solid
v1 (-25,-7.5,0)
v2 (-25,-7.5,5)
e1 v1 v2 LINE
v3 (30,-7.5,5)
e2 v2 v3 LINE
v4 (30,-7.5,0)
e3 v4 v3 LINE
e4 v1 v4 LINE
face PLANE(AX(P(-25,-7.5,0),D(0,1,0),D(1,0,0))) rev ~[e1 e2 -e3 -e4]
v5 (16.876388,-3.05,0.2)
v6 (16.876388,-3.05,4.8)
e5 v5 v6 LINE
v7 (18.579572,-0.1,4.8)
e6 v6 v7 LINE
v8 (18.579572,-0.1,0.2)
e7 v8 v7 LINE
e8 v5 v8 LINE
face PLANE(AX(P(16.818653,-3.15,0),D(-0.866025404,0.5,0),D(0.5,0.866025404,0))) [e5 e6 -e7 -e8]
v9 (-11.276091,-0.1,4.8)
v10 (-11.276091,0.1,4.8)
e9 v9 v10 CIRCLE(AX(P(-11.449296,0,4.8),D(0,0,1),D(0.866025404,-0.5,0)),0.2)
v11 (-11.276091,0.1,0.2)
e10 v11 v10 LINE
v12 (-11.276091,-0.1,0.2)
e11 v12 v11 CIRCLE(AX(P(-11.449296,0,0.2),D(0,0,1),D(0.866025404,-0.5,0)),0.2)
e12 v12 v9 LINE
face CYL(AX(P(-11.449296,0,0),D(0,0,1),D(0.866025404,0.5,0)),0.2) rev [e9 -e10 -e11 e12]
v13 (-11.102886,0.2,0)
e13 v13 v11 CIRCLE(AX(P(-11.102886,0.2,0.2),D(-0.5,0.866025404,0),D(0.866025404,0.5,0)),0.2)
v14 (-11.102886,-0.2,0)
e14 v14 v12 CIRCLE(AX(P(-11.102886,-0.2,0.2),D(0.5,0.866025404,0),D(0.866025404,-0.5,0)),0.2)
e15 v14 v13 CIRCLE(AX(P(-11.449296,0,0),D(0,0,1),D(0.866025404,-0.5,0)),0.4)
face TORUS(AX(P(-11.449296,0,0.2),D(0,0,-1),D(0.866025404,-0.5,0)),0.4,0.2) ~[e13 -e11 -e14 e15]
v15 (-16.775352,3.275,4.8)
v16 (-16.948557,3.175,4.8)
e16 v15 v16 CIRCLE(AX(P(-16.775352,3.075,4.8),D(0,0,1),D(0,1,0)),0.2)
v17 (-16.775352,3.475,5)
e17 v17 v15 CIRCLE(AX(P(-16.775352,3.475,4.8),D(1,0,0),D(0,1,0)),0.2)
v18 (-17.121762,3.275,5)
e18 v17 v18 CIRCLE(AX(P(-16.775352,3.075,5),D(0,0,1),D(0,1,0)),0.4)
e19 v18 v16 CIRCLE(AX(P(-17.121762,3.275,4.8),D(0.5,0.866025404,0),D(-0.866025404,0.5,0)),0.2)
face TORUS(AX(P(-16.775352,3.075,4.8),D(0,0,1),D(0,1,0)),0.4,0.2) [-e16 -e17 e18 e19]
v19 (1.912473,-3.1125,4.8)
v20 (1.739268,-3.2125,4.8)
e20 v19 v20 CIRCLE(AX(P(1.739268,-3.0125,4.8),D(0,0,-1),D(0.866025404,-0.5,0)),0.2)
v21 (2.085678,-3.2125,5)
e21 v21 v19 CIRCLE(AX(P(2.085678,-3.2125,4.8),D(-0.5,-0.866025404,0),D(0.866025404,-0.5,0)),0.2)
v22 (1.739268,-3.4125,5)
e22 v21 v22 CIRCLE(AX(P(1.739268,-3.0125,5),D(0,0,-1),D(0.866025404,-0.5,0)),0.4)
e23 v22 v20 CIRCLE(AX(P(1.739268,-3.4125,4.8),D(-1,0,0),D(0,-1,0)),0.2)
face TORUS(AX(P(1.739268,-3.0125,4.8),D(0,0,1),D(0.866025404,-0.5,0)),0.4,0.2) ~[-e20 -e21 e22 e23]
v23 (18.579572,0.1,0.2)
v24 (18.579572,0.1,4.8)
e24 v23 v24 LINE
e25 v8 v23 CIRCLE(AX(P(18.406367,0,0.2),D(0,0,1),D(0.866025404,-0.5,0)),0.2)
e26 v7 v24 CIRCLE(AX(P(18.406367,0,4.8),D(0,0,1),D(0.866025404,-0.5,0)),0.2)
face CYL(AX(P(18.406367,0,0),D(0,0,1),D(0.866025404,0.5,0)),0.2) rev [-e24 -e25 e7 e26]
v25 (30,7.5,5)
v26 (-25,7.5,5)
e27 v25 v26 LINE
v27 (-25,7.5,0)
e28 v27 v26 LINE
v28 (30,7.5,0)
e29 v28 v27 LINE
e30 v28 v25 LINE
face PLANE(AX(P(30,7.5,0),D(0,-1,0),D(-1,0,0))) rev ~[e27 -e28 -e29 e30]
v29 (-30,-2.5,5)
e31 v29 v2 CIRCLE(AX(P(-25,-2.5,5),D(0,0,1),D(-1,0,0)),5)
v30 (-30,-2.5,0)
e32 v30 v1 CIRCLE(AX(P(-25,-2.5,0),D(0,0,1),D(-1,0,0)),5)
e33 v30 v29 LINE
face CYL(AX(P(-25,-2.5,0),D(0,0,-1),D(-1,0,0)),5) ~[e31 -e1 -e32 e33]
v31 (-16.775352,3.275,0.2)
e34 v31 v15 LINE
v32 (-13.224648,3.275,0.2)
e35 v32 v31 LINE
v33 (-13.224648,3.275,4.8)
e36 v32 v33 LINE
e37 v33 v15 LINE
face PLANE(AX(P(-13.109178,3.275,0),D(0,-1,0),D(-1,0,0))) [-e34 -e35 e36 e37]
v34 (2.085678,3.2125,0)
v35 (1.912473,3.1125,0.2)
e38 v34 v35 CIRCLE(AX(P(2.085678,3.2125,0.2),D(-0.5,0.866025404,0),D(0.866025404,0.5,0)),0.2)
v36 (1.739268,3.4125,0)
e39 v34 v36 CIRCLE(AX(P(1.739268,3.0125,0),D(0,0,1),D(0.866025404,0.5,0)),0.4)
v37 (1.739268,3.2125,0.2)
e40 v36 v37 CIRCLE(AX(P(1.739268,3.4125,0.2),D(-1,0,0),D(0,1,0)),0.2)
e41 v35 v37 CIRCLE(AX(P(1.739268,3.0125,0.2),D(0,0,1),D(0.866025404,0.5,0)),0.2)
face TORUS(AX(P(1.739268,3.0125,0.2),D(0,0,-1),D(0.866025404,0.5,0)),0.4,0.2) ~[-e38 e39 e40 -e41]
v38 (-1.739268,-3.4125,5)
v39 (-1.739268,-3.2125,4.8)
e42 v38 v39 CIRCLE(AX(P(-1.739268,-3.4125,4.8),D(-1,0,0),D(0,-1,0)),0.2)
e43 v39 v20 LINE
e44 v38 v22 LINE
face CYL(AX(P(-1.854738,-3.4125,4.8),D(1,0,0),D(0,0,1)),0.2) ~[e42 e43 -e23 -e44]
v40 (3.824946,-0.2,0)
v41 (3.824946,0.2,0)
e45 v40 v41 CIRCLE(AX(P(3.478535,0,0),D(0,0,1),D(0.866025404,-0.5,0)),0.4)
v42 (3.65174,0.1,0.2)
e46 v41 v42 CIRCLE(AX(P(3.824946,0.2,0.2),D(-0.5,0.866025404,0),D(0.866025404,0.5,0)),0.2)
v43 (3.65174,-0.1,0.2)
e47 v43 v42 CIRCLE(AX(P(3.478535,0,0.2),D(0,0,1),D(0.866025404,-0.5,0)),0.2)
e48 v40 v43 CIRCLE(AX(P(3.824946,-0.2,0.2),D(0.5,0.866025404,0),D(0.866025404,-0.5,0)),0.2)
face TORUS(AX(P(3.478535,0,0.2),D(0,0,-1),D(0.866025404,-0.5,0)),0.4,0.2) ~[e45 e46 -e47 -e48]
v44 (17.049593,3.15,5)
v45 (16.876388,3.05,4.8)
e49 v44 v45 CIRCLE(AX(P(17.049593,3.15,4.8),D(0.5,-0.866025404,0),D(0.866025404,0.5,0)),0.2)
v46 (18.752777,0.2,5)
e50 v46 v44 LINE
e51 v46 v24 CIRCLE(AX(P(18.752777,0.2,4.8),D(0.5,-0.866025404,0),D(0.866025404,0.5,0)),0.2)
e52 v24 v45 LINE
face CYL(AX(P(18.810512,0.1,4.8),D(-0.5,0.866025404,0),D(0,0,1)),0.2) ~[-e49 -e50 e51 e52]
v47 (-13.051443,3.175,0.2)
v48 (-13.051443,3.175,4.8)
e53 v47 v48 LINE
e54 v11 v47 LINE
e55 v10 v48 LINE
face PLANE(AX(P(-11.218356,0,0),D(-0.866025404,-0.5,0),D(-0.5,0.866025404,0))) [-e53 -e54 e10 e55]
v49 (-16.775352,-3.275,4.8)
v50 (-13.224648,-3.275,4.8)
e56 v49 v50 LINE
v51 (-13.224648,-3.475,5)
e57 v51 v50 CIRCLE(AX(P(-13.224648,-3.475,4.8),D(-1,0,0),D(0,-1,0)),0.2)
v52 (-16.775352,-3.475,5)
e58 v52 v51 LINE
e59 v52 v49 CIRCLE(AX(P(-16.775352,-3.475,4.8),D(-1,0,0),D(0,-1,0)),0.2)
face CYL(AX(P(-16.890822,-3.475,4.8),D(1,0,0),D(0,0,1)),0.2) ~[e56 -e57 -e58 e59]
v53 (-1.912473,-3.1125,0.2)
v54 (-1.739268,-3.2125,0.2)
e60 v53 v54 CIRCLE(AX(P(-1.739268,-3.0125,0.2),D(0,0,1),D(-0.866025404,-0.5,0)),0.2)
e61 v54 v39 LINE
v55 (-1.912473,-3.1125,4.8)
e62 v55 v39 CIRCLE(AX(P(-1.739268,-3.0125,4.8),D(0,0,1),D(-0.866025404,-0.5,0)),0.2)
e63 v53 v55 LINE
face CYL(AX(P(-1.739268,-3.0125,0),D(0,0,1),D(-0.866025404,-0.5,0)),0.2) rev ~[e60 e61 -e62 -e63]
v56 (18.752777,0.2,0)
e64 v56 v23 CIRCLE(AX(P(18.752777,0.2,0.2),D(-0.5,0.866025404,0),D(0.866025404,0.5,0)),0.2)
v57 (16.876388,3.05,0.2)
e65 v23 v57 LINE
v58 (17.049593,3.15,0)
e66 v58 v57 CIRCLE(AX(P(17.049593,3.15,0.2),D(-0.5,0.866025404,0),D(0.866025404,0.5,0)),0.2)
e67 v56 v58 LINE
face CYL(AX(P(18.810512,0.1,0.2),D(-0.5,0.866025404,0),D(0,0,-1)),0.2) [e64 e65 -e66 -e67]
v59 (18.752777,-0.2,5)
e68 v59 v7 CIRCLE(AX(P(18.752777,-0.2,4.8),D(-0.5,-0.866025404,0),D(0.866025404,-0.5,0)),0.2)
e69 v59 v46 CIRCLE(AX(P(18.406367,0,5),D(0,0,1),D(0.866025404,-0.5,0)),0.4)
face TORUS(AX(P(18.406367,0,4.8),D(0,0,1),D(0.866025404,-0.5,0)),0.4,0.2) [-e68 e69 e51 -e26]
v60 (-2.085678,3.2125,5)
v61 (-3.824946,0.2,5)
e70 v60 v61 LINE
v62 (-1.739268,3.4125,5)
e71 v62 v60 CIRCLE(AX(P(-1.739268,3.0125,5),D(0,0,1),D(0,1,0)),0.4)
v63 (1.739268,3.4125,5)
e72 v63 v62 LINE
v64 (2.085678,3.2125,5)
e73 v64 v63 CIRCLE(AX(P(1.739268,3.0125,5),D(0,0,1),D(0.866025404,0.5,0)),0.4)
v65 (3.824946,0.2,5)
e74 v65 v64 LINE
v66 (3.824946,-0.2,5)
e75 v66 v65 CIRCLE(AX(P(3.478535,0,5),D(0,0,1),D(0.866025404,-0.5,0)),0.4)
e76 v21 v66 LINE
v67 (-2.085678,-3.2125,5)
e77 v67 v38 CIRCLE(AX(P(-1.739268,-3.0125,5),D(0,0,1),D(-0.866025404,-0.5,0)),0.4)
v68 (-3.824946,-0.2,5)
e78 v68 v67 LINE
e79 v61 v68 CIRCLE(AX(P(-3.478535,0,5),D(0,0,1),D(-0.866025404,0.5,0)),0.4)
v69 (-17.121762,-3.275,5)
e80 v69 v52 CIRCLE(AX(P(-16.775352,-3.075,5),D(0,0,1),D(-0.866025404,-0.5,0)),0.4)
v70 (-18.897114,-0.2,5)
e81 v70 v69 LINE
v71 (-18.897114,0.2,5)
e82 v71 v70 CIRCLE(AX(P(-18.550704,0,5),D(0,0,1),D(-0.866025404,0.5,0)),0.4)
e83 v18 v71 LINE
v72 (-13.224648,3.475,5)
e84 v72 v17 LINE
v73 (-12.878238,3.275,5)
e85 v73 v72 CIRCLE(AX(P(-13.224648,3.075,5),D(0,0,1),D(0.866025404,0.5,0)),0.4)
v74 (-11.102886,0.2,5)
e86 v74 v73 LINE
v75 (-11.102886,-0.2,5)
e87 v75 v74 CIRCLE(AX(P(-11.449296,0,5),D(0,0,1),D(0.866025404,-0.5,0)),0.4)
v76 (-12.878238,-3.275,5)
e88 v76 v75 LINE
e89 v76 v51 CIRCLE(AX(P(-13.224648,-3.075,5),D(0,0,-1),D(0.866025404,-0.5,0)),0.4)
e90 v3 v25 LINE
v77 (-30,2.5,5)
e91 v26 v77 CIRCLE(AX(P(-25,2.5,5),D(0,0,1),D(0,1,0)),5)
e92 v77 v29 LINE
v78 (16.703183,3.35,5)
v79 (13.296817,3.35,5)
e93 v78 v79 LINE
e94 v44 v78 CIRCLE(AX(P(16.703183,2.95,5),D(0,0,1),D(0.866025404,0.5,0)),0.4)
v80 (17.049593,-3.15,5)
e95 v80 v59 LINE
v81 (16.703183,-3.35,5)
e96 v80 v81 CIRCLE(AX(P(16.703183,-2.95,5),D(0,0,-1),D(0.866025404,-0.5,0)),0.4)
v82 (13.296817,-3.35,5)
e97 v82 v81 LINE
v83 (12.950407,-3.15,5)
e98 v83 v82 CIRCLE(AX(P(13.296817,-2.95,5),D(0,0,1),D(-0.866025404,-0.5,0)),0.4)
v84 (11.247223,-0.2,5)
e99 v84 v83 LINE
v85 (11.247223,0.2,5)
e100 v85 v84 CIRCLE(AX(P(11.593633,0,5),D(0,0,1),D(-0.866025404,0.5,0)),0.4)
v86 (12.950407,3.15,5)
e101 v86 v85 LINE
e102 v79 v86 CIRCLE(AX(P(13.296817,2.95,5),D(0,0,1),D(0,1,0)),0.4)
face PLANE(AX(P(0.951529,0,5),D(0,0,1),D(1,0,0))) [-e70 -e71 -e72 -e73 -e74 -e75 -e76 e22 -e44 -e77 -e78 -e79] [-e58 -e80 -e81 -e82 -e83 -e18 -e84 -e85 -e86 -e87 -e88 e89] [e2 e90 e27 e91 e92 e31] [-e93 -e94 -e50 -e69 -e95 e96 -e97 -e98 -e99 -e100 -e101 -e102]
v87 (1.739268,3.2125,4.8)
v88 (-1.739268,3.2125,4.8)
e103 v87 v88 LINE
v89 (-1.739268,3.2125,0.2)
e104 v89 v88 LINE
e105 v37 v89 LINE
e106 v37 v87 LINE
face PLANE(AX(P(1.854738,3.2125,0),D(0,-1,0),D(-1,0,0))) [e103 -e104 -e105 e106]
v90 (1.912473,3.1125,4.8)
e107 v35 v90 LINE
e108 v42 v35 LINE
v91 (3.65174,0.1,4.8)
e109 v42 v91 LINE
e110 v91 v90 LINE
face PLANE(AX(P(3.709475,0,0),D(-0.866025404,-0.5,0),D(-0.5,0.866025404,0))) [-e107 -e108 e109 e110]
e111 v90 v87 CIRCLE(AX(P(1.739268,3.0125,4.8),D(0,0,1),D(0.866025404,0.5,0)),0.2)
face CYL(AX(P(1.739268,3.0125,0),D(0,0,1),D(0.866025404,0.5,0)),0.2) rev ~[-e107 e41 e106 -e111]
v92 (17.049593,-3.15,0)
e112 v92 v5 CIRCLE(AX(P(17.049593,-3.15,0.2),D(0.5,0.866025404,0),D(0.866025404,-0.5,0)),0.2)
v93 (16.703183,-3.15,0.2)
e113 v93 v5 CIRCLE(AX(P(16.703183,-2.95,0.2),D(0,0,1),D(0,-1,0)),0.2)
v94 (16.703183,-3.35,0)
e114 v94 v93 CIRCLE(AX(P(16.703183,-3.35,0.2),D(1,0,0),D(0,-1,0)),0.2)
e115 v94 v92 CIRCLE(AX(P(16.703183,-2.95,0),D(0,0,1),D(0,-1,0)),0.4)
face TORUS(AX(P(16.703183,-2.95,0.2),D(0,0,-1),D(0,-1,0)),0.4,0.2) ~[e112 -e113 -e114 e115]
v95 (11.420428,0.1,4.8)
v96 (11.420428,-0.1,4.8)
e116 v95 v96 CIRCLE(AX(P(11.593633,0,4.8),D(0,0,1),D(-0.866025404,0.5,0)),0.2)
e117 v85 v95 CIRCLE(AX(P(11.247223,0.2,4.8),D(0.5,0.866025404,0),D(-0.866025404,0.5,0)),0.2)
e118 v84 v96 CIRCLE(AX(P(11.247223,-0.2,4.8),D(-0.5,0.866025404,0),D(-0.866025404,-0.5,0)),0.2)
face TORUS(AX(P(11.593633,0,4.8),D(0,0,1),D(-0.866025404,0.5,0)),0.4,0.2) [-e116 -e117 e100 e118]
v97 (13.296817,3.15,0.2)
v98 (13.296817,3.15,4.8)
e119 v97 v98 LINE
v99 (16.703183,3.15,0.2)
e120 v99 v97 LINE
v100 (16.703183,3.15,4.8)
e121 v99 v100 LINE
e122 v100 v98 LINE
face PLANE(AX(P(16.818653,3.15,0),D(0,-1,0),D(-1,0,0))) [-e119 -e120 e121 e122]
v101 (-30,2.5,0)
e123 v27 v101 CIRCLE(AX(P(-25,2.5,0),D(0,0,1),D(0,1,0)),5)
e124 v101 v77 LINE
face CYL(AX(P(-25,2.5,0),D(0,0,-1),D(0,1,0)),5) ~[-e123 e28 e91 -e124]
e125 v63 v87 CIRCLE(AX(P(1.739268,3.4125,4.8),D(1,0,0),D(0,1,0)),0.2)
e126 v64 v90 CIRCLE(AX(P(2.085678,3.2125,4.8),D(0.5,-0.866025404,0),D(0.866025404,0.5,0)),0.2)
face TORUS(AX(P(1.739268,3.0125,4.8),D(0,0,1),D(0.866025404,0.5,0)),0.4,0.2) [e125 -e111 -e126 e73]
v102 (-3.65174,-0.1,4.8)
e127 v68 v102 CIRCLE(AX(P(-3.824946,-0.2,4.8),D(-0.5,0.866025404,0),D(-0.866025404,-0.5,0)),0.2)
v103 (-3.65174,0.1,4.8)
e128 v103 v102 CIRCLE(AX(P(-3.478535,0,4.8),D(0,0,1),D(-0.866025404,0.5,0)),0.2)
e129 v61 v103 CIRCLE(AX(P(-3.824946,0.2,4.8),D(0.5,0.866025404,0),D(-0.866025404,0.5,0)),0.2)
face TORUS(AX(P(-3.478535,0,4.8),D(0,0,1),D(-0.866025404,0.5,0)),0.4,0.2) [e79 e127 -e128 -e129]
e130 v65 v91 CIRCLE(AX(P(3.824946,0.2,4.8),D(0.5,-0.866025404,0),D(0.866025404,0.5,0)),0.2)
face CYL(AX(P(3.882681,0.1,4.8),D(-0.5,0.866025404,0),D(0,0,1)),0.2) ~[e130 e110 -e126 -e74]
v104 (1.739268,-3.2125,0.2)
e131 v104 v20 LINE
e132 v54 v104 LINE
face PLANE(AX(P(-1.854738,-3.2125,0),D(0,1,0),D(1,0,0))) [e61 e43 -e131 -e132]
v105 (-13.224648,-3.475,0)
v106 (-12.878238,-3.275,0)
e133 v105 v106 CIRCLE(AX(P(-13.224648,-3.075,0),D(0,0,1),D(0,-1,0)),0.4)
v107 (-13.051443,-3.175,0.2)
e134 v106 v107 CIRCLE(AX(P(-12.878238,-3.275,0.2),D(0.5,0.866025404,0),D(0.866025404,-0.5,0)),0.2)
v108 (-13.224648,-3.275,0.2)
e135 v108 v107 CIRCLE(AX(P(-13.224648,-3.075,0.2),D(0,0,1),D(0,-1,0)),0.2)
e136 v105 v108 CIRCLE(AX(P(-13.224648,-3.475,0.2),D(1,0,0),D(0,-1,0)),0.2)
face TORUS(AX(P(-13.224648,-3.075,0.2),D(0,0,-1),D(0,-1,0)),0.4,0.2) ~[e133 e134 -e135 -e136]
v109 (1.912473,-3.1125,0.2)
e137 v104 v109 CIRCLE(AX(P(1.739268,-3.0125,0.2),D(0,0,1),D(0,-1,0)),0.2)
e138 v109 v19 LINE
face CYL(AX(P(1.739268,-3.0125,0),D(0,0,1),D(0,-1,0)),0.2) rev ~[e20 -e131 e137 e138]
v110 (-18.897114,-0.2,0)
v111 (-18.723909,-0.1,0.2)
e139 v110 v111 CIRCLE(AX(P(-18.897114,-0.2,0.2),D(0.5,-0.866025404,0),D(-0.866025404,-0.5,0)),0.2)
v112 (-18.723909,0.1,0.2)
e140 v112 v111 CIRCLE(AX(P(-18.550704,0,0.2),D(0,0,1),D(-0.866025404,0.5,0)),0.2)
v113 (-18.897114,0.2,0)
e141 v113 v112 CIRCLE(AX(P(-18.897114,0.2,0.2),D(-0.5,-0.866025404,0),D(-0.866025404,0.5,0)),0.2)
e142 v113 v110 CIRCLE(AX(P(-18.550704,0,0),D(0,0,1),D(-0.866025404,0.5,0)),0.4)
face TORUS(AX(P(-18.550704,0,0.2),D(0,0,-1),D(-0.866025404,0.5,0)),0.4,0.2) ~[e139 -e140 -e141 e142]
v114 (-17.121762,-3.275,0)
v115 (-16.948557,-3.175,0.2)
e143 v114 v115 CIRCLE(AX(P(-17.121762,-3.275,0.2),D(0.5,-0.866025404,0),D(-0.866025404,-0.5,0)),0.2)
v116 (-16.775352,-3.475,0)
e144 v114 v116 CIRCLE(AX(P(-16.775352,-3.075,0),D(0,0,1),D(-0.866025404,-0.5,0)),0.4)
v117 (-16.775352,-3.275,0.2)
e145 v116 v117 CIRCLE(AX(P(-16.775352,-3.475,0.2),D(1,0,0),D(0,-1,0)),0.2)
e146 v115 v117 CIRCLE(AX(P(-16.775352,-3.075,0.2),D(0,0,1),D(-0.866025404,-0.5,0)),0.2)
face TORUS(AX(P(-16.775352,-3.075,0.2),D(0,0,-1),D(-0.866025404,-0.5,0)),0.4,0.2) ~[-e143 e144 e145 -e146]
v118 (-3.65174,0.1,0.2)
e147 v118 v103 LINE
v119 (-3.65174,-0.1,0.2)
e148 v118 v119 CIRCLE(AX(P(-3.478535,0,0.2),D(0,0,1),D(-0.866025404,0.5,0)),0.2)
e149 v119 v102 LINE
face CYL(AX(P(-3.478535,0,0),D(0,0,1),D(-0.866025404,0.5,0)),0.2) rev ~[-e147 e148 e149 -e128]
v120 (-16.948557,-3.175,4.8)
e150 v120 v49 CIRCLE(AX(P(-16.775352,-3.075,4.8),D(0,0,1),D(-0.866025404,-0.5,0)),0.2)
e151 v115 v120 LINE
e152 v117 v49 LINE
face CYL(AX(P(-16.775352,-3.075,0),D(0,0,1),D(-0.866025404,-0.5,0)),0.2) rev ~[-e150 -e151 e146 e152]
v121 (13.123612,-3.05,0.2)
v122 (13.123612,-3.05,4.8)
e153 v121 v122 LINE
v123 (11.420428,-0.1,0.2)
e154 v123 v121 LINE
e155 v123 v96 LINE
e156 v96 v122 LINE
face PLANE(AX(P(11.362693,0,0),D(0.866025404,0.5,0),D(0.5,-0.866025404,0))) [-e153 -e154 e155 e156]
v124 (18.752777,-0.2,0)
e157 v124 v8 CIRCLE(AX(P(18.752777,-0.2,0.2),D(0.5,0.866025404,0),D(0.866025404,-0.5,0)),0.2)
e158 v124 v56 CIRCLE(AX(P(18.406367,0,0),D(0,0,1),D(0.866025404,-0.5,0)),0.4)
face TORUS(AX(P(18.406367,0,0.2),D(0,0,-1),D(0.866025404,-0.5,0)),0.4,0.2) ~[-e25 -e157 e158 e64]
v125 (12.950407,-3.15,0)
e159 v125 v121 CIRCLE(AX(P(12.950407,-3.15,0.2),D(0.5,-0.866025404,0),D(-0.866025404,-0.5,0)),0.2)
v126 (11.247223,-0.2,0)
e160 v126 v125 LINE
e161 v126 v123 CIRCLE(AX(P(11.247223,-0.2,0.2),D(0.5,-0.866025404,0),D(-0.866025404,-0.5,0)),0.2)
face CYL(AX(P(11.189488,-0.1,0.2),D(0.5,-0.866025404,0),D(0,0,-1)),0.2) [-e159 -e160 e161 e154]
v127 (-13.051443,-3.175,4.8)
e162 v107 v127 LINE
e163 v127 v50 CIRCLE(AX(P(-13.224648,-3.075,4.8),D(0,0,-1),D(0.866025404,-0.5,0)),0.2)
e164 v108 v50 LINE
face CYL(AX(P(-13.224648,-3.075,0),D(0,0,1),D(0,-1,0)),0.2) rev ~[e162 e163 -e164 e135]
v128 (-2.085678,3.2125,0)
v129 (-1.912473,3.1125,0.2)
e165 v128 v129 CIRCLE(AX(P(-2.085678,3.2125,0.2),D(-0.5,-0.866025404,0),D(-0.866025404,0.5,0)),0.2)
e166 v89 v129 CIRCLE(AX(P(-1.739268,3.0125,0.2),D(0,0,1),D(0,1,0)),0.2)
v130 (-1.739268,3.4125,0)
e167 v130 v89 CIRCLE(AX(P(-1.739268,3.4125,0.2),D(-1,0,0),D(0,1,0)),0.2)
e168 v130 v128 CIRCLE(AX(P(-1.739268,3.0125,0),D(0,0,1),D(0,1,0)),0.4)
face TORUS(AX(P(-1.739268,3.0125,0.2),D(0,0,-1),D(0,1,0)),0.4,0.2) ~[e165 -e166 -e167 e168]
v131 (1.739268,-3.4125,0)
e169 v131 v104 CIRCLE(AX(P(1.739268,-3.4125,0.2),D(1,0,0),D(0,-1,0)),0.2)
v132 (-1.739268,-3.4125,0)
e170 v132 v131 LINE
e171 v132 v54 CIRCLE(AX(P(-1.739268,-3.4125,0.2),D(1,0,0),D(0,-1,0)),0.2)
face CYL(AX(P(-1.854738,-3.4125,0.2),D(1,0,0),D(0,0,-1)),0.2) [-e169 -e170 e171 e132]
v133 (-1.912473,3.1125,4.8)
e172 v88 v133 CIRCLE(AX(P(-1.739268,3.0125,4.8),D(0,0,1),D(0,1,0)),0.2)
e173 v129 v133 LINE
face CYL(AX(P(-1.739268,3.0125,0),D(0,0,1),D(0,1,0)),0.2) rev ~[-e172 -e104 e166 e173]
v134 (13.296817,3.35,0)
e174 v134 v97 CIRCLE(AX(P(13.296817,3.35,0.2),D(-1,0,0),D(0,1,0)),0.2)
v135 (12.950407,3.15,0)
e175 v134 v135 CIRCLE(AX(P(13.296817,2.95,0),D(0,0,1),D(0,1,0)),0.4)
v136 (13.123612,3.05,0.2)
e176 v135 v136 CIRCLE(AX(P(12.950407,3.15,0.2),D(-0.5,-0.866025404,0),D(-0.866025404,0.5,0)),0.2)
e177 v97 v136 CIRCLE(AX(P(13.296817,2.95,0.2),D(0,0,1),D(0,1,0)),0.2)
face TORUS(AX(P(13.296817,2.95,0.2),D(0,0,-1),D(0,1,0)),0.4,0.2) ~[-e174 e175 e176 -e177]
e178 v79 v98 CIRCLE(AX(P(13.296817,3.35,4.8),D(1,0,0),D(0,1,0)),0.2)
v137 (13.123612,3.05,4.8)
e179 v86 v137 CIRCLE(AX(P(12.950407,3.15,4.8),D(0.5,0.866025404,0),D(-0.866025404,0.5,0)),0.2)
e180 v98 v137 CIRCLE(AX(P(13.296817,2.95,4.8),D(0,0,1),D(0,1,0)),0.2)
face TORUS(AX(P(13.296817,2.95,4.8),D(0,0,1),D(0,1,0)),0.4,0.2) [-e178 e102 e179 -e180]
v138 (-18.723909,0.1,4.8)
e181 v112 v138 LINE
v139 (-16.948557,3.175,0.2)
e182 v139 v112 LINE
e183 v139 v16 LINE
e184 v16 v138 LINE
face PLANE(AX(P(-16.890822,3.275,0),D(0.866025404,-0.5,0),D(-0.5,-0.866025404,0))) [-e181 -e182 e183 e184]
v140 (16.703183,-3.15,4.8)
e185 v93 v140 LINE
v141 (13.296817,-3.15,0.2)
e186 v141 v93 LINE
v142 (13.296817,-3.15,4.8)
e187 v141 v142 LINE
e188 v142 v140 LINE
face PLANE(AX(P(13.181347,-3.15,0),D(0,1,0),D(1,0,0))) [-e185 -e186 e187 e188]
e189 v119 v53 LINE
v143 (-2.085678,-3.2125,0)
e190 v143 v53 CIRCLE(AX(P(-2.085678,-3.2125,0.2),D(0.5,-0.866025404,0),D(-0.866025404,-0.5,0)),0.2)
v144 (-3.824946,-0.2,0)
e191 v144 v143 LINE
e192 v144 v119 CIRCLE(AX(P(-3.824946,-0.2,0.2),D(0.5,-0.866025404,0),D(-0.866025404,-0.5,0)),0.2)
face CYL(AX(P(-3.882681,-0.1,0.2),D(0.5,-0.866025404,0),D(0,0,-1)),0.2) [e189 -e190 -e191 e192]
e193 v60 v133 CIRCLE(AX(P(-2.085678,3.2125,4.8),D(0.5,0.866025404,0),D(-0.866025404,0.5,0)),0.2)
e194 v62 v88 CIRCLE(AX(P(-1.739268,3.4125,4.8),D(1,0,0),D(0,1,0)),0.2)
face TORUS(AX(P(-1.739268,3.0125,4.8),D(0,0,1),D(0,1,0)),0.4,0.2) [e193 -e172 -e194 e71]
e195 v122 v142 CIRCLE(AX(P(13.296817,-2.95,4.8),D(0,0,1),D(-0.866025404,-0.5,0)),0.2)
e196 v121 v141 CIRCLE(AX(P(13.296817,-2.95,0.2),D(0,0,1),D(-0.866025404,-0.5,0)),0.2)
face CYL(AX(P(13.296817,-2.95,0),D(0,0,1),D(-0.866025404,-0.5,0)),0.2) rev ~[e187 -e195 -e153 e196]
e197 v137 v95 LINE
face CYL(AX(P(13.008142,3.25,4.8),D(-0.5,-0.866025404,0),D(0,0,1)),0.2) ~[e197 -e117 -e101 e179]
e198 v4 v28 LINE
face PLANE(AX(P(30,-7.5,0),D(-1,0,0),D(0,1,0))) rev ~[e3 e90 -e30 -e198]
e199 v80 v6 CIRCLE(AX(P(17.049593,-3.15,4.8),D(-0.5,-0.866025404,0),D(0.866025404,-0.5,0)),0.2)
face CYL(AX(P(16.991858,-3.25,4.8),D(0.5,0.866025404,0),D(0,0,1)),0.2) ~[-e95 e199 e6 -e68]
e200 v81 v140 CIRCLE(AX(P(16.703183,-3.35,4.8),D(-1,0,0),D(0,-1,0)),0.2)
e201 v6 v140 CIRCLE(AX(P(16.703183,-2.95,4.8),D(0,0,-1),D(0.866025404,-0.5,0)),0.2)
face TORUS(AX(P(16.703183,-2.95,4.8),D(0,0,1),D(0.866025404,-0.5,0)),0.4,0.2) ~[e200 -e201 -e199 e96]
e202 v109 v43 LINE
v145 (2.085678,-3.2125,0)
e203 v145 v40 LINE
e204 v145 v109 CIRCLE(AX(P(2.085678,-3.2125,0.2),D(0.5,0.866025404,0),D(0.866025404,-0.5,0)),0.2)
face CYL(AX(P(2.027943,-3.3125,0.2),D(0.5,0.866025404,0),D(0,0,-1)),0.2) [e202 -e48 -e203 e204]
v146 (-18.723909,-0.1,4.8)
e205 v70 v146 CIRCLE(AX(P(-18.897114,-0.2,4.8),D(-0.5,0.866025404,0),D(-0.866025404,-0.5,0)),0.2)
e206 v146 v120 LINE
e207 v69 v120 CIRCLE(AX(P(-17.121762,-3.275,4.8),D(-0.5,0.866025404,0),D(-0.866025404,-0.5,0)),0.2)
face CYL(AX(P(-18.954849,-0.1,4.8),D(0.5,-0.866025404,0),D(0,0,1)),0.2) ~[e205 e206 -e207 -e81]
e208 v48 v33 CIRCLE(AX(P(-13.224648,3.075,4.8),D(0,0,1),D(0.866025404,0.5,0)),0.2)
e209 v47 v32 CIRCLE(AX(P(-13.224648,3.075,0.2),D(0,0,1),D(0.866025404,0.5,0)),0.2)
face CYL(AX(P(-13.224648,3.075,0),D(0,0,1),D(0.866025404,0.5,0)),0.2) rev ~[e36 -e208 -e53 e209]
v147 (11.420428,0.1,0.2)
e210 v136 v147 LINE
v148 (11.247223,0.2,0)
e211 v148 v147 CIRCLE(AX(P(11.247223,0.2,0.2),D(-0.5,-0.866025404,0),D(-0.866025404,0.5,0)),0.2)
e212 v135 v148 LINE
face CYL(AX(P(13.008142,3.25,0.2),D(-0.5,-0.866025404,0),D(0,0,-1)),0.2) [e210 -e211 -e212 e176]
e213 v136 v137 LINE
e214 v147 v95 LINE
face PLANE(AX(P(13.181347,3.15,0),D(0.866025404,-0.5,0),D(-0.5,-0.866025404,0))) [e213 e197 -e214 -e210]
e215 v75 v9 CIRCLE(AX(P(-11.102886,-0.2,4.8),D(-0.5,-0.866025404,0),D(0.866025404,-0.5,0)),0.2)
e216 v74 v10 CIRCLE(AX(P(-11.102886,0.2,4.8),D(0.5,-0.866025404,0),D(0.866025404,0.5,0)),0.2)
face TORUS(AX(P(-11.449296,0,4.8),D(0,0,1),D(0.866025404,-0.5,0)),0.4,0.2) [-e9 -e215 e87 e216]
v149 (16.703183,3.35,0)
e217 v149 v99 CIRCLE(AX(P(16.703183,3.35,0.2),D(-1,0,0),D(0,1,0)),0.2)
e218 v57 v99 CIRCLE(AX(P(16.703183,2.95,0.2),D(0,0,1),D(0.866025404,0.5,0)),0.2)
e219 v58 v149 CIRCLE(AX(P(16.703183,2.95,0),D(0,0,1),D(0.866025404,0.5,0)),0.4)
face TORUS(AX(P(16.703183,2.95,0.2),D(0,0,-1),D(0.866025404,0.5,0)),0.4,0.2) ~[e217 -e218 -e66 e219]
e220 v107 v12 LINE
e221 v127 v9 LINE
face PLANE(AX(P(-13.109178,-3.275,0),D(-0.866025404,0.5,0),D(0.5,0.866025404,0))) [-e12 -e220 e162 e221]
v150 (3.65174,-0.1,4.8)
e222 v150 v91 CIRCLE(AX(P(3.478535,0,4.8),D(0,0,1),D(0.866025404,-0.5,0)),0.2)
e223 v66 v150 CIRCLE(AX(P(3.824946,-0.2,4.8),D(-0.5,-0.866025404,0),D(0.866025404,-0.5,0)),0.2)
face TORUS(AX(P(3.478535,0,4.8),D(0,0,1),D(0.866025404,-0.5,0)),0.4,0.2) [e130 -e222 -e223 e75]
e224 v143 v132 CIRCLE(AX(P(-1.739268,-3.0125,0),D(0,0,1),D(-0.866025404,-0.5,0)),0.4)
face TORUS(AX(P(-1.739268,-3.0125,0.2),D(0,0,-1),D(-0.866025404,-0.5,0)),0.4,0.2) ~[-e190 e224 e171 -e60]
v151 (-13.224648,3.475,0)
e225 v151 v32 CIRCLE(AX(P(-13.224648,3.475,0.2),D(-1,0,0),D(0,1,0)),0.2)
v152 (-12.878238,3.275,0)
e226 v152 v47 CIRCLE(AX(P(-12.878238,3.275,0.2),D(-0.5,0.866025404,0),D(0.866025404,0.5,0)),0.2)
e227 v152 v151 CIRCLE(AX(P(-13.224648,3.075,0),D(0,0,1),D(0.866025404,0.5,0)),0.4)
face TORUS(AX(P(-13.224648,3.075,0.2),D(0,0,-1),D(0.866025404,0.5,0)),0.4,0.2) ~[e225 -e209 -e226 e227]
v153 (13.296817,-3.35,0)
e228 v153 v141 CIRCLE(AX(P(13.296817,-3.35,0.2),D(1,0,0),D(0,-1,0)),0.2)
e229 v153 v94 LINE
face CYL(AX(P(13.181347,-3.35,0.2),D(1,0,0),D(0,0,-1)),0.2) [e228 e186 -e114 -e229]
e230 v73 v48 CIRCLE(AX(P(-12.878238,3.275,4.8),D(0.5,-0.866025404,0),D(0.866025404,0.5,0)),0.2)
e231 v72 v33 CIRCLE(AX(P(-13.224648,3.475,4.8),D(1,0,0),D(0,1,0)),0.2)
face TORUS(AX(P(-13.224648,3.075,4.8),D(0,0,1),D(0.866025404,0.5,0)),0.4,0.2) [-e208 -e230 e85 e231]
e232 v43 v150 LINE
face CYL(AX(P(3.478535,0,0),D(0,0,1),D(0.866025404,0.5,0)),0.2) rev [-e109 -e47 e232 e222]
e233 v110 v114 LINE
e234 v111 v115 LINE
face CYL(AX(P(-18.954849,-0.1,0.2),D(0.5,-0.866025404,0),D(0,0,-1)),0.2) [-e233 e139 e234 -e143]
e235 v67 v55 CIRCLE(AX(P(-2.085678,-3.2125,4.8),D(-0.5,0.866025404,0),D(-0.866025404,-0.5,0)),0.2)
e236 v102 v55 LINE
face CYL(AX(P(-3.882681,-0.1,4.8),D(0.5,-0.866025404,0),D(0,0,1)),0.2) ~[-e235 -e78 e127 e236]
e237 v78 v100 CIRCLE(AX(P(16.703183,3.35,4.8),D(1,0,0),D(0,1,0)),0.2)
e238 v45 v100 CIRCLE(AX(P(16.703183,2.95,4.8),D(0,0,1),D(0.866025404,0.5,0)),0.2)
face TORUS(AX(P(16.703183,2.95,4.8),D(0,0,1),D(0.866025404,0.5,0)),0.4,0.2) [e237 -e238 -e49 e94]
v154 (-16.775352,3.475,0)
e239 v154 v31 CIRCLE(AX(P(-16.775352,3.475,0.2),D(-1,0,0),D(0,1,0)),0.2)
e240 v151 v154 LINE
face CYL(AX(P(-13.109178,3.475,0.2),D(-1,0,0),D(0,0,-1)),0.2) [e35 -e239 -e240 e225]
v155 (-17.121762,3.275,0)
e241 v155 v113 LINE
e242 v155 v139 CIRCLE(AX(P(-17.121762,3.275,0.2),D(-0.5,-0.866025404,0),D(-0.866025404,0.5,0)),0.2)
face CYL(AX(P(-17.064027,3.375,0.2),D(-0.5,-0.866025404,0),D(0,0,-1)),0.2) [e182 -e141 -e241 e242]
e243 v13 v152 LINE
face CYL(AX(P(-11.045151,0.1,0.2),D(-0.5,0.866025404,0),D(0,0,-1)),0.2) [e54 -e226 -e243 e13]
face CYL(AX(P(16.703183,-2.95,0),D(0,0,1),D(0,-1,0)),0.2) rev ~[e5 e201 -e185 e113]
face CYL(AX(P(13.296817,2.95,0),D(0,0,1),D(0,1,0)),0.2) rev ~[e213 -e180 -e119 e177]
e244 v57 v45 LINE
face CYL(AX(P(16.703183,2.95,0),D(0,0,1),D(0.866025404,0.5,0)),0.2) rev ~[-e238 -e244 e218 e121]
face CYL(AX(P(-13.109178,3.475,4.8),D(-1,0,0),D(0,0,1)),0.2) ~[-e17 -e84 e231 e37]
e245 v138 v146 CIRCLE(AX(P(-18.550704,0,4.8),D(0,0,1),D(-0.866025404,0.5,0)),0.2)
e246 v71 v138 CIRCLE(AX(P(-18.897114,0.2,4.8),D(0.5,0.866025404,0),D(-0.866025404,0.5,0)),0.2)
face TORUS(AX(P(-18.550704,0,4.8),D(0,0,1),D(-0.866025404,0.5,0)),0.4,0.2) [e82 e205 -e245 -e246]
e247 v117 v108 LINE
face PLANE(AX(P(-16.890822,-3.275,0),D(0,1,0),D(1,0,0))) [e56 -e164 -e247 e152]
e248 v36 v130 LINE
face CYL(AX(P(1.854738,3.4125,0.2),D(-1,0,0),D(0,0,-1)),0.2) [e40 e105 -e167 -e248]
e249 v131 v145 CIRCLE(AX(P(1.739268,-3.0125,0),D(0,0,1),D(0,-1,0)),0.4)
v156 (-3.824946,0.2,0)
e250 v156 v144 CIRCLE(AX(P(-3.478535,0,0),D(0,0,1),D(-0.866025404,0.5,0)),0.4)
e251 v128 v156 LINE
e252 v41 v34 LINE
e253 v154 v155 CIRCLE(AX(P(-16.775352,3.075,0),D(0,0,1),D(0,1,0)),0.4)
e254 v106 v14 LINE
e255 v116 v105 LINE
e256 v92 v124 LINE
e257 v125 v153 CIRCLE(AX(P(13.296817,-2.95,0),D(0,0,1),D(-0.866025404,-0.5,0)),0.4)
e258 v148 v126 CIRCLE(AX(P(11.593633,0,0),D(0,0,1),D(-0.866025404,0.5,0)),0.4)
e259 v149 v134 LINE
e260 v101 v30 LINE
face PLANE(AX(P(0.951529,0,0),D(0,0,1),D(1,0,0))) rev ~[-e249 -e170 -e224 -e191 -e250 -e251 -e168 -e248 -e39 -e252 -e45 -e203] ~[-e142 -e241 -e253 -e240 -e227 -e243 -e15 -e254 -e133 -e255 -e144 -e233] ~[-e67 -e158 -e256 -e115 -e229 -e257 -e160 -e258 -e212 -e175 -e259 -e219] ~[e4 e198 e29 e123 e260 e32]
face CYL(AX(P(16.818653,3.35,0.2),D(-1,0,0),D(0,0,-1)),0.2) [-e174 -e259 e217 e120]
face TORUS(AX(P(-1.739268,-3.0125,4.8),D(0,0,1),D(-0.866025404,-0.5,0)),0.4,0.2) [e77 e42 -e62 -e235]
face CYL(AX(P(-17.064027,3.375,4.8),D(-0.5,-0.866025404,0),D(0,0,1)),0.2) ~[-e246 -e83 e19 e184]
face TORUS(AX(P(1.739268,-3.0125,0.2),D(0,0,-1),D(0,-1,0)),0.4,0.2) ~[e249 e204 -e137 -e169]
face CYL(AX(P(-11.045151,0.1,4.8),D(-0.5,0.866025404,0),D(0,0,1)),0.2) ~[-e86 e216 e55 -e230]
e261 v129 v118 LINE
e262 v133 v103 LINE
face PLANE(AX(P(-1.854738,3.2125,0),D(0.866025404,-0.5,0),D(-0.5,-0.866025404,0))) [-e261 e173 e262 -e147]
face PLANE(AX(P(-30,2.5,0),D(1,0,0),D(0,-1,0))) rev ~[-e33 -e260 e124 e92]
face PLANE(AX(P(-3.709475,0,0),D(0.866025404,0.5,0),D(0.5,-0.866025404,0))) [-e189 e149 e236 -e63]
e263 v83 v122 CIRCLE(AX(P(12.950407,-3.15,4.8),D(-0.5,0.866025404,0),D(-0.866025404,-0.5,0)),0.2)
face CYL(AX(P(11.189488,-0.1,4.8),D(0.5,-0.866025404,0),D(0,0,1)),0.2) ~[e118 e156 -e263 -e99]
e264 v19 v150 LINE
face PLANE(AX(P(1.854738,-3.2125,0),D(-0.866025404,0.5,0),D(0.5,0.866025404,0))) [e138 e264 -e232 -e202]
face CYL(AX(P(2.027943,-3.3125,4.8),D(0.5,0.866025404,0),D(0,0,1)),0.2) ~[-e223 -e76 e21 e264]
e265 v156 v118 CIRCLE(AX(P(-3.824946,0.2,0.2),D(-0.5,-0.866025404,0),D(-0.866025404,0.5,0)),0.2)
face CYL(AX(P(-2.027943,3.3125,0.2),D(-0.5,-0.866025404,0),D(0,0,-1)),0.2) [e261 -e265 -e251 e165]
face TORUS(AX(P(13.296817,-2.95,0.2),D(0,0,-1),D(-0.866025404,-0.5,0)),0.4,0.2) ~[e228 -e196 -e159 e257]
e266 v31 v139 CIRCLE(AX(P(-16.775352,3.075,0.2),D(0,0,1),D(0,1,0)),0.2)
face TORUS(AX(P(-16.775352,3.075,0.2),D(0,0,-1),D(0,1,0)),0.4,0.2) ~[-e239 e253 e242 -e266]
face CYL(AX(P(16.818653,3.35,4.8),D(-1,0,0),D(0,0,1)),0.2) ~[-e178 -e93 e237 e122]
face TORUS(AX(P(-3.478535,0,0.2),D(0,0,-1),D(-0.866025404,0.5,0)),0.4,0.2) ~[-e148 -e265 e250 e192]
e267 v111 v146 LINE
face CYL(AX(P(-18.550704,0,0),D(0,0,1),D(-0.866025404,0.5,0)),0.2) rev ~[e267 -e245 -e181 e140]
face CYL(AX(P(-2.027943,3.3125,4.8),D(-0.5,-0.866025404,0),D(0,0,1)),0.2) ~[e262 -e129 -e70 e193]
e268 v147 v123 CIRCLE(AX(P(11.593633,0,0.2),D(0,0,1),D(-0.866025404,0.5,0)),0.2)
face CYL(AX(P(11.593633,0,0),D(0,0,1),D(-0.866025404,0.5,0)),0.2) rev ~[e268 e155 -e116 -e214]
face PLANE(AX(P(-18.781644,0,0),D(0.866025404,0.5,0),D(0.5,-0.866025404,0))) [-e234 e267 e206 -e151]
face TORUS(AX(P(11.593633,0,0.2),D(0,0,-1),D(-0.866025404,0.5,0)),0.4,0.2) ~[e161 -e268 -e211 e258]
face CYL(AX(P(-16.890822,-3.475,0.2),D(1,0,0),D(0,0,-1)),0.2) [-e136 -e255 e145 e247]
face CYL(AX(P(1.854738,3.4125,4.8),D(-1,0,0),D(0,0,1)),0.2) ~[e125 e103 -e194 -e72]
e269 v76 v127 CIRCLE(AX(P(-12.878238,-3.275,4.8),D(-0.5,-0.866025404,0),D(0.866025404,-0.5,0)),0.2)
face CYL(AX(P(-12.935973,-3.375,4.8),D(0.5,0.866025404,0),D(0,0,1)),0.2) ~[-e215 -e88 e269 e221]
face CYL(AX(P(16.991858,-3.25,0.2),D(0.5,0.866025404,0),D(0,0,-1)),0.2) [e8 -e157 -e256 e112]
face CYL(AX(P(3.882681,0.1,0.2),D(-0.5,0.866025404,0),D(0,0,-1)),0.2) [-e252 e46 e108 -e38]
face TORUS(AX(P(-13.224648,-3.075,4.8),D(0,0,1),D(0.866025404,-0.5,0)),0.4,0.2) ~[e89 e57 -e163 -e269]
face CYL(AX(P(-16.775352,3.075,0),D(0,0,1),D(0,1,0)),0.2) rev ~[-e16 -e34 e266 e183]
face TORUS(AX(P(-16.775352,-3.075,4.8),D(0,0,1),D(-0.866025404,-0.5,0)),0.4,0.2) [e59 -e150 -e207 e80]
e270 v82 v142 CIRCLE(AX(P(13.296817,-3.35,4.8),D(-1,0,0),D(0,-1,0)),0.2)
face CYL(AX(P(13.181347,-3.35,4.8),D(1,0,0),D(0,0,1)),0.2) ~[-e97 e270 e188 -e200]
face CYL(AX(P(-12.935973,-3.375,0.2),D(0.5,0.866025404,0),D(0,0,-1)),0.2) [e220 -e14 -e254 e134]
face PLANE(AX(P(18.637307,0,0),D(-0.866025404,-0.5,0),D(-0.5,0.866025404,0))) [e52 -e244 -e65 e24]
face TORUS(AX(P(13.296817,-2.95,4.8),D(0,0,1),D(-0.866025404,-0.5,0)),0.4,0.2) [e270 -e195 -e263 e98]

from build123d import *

# Parameters (mm, degrees)
BOSS_EXTRUDE1_DEPTH = 5
CUT_EXTRUDE3_DEPTH  = 5
FILLET1_R           = 0.2


with BuildPart() as part:
    # Sketch1 → Boss-Extrude1 (new body)
    with BuildSketch(Plane.XY):
        with BuildLine():
            Line((-25, -7.5), (30, -7.5))
            Line((30, -7.5), (30, 7.5))
            Line((30, 7.5), (-25, 7.5))
            ThreePointArc((-25, 7.5), (-28.535533906, 6.035533906), (-30, 2.5))
            Line((-30, 2.5), (-30, -2.5))
            ThreePointArc((-30, -2.5), (-28.535533906, -6.035533906), (-25, -7.5))
        make_face()
    extrude(amount=BOSS_EXTRUDE1_DEPTH)

    # Sketch2 → Cut-Extrude3 (cut)
    with BuildSketch(Plane.XY):
        Polygon((-11.218355737, 0), (-13.109177868, 3.275), (-16.890822132, 3.275), (-18.781644263, 0), (-16.890822132, -3.275), (-13.109177868, -3.275), align=None)
        Polygon((3.70947548, 0), (1.85473774, 3.2125), (-1.85473774, 3.2125), (-3.70947548, 0), (-1.85473774, -3.2125), (1.85473774, -3.2125), align=None)
        Polygon((18.637306696, 0), (16.818653348, 3.15), (13.181346652, 3.15), (11.362693304, 0), (13.181346652, -3.15), (16.818653348, -3.15), align=None)
    extrude(amount=CUT_EXTRUDE3_DEPTH, mode=Mode.SUBTRACT)

    # Fillet1
    fillet1_edges = [part.edges().sort_by_distance(p)[0] for p in [
        (-12.163766803, -1.6375, 0),
        (-13.109177868, -3.275, 2.5),
        (-12.163766803, 1.6375, 0),
        (-11.218355737, 0, 2.5),
        (-15, 3.275, 0),
        (-13.109177868, 3.275, 2.5),
        (-17.836233197, 1.6375, 0),
        (-16.890822132, 3.275, 2.5),
        (-17.836233197, -1.6375, 0),
        (-18.781644263, 0, 2.5),
        (-15, -3.275, 0),
        (-16.890822132, -3.275, 2.5),
        (-12.163766803, -1.6375, 5),
        (-12.163766803, 1.6375, 5),
        (-15, 3.275, 5),
        (-17.836233197, 1.6375, 5),
        (-17.836233197, -1.6375, 5),
        (-15, -3.275, 5),
        (2.78210661, -1.60625, 0),
        (1.85473774, -3.2125, 2.5),
        (2.78210661, 1.60625, 0),
        (3.70947548, 0, 2.5),
        (0, 3.2125, 0),
        (1.85473774, 3.2125, 2.5),
        (-2.78210661, 1.60625, 0),
        (-1.85473774, 3.2125, 2.5),
        (-2.78210661, -1.60625, 0),
        (-3.70947548, 0, 2.5),
        (0, -3.2125, 0),
        (-1.85473774, -3.2125, 2.5),
        (2.78210661, -1.60625, 5),
        (2.78210661, 1.60625, 5),
        (0, 3.2125, 5),
        (-2.78210661, 1.60625, 5),
        (-2.78210661, -1.60625, 5),
        (0, -3.2125, 5),
        (17.727980022, -1.575, 0),
        (16.818653348, -3.15, 2.5),
        (17.727980022, 1.575, 0),
        (18.637306696, 0, 2.5),
        (15, 3.15, 0),
        (16.818653348, 3.15, 2.5),
        (12.272019978, 1.575, 0),
        (13.181346652, 3.15, 2.5),
        (12.272019978, -1.575, 0),
        (11.362693304, 0, 2.5),
        (15, -3.15, 0),
        (13.181346652, -3.15, 2.5),
        (17.727980022, -1.575, 5),
        (17.727980022, 1.575, 5),
        (15, 3.15, 5),
        (12.272019978, 1.575, 5),
        (12.272019978, -1.575, 5),
        (15, -3.15, 5),
    ]]
    fillet(fillet1_edges, radius=FILLET1_R)


solid = part.part
